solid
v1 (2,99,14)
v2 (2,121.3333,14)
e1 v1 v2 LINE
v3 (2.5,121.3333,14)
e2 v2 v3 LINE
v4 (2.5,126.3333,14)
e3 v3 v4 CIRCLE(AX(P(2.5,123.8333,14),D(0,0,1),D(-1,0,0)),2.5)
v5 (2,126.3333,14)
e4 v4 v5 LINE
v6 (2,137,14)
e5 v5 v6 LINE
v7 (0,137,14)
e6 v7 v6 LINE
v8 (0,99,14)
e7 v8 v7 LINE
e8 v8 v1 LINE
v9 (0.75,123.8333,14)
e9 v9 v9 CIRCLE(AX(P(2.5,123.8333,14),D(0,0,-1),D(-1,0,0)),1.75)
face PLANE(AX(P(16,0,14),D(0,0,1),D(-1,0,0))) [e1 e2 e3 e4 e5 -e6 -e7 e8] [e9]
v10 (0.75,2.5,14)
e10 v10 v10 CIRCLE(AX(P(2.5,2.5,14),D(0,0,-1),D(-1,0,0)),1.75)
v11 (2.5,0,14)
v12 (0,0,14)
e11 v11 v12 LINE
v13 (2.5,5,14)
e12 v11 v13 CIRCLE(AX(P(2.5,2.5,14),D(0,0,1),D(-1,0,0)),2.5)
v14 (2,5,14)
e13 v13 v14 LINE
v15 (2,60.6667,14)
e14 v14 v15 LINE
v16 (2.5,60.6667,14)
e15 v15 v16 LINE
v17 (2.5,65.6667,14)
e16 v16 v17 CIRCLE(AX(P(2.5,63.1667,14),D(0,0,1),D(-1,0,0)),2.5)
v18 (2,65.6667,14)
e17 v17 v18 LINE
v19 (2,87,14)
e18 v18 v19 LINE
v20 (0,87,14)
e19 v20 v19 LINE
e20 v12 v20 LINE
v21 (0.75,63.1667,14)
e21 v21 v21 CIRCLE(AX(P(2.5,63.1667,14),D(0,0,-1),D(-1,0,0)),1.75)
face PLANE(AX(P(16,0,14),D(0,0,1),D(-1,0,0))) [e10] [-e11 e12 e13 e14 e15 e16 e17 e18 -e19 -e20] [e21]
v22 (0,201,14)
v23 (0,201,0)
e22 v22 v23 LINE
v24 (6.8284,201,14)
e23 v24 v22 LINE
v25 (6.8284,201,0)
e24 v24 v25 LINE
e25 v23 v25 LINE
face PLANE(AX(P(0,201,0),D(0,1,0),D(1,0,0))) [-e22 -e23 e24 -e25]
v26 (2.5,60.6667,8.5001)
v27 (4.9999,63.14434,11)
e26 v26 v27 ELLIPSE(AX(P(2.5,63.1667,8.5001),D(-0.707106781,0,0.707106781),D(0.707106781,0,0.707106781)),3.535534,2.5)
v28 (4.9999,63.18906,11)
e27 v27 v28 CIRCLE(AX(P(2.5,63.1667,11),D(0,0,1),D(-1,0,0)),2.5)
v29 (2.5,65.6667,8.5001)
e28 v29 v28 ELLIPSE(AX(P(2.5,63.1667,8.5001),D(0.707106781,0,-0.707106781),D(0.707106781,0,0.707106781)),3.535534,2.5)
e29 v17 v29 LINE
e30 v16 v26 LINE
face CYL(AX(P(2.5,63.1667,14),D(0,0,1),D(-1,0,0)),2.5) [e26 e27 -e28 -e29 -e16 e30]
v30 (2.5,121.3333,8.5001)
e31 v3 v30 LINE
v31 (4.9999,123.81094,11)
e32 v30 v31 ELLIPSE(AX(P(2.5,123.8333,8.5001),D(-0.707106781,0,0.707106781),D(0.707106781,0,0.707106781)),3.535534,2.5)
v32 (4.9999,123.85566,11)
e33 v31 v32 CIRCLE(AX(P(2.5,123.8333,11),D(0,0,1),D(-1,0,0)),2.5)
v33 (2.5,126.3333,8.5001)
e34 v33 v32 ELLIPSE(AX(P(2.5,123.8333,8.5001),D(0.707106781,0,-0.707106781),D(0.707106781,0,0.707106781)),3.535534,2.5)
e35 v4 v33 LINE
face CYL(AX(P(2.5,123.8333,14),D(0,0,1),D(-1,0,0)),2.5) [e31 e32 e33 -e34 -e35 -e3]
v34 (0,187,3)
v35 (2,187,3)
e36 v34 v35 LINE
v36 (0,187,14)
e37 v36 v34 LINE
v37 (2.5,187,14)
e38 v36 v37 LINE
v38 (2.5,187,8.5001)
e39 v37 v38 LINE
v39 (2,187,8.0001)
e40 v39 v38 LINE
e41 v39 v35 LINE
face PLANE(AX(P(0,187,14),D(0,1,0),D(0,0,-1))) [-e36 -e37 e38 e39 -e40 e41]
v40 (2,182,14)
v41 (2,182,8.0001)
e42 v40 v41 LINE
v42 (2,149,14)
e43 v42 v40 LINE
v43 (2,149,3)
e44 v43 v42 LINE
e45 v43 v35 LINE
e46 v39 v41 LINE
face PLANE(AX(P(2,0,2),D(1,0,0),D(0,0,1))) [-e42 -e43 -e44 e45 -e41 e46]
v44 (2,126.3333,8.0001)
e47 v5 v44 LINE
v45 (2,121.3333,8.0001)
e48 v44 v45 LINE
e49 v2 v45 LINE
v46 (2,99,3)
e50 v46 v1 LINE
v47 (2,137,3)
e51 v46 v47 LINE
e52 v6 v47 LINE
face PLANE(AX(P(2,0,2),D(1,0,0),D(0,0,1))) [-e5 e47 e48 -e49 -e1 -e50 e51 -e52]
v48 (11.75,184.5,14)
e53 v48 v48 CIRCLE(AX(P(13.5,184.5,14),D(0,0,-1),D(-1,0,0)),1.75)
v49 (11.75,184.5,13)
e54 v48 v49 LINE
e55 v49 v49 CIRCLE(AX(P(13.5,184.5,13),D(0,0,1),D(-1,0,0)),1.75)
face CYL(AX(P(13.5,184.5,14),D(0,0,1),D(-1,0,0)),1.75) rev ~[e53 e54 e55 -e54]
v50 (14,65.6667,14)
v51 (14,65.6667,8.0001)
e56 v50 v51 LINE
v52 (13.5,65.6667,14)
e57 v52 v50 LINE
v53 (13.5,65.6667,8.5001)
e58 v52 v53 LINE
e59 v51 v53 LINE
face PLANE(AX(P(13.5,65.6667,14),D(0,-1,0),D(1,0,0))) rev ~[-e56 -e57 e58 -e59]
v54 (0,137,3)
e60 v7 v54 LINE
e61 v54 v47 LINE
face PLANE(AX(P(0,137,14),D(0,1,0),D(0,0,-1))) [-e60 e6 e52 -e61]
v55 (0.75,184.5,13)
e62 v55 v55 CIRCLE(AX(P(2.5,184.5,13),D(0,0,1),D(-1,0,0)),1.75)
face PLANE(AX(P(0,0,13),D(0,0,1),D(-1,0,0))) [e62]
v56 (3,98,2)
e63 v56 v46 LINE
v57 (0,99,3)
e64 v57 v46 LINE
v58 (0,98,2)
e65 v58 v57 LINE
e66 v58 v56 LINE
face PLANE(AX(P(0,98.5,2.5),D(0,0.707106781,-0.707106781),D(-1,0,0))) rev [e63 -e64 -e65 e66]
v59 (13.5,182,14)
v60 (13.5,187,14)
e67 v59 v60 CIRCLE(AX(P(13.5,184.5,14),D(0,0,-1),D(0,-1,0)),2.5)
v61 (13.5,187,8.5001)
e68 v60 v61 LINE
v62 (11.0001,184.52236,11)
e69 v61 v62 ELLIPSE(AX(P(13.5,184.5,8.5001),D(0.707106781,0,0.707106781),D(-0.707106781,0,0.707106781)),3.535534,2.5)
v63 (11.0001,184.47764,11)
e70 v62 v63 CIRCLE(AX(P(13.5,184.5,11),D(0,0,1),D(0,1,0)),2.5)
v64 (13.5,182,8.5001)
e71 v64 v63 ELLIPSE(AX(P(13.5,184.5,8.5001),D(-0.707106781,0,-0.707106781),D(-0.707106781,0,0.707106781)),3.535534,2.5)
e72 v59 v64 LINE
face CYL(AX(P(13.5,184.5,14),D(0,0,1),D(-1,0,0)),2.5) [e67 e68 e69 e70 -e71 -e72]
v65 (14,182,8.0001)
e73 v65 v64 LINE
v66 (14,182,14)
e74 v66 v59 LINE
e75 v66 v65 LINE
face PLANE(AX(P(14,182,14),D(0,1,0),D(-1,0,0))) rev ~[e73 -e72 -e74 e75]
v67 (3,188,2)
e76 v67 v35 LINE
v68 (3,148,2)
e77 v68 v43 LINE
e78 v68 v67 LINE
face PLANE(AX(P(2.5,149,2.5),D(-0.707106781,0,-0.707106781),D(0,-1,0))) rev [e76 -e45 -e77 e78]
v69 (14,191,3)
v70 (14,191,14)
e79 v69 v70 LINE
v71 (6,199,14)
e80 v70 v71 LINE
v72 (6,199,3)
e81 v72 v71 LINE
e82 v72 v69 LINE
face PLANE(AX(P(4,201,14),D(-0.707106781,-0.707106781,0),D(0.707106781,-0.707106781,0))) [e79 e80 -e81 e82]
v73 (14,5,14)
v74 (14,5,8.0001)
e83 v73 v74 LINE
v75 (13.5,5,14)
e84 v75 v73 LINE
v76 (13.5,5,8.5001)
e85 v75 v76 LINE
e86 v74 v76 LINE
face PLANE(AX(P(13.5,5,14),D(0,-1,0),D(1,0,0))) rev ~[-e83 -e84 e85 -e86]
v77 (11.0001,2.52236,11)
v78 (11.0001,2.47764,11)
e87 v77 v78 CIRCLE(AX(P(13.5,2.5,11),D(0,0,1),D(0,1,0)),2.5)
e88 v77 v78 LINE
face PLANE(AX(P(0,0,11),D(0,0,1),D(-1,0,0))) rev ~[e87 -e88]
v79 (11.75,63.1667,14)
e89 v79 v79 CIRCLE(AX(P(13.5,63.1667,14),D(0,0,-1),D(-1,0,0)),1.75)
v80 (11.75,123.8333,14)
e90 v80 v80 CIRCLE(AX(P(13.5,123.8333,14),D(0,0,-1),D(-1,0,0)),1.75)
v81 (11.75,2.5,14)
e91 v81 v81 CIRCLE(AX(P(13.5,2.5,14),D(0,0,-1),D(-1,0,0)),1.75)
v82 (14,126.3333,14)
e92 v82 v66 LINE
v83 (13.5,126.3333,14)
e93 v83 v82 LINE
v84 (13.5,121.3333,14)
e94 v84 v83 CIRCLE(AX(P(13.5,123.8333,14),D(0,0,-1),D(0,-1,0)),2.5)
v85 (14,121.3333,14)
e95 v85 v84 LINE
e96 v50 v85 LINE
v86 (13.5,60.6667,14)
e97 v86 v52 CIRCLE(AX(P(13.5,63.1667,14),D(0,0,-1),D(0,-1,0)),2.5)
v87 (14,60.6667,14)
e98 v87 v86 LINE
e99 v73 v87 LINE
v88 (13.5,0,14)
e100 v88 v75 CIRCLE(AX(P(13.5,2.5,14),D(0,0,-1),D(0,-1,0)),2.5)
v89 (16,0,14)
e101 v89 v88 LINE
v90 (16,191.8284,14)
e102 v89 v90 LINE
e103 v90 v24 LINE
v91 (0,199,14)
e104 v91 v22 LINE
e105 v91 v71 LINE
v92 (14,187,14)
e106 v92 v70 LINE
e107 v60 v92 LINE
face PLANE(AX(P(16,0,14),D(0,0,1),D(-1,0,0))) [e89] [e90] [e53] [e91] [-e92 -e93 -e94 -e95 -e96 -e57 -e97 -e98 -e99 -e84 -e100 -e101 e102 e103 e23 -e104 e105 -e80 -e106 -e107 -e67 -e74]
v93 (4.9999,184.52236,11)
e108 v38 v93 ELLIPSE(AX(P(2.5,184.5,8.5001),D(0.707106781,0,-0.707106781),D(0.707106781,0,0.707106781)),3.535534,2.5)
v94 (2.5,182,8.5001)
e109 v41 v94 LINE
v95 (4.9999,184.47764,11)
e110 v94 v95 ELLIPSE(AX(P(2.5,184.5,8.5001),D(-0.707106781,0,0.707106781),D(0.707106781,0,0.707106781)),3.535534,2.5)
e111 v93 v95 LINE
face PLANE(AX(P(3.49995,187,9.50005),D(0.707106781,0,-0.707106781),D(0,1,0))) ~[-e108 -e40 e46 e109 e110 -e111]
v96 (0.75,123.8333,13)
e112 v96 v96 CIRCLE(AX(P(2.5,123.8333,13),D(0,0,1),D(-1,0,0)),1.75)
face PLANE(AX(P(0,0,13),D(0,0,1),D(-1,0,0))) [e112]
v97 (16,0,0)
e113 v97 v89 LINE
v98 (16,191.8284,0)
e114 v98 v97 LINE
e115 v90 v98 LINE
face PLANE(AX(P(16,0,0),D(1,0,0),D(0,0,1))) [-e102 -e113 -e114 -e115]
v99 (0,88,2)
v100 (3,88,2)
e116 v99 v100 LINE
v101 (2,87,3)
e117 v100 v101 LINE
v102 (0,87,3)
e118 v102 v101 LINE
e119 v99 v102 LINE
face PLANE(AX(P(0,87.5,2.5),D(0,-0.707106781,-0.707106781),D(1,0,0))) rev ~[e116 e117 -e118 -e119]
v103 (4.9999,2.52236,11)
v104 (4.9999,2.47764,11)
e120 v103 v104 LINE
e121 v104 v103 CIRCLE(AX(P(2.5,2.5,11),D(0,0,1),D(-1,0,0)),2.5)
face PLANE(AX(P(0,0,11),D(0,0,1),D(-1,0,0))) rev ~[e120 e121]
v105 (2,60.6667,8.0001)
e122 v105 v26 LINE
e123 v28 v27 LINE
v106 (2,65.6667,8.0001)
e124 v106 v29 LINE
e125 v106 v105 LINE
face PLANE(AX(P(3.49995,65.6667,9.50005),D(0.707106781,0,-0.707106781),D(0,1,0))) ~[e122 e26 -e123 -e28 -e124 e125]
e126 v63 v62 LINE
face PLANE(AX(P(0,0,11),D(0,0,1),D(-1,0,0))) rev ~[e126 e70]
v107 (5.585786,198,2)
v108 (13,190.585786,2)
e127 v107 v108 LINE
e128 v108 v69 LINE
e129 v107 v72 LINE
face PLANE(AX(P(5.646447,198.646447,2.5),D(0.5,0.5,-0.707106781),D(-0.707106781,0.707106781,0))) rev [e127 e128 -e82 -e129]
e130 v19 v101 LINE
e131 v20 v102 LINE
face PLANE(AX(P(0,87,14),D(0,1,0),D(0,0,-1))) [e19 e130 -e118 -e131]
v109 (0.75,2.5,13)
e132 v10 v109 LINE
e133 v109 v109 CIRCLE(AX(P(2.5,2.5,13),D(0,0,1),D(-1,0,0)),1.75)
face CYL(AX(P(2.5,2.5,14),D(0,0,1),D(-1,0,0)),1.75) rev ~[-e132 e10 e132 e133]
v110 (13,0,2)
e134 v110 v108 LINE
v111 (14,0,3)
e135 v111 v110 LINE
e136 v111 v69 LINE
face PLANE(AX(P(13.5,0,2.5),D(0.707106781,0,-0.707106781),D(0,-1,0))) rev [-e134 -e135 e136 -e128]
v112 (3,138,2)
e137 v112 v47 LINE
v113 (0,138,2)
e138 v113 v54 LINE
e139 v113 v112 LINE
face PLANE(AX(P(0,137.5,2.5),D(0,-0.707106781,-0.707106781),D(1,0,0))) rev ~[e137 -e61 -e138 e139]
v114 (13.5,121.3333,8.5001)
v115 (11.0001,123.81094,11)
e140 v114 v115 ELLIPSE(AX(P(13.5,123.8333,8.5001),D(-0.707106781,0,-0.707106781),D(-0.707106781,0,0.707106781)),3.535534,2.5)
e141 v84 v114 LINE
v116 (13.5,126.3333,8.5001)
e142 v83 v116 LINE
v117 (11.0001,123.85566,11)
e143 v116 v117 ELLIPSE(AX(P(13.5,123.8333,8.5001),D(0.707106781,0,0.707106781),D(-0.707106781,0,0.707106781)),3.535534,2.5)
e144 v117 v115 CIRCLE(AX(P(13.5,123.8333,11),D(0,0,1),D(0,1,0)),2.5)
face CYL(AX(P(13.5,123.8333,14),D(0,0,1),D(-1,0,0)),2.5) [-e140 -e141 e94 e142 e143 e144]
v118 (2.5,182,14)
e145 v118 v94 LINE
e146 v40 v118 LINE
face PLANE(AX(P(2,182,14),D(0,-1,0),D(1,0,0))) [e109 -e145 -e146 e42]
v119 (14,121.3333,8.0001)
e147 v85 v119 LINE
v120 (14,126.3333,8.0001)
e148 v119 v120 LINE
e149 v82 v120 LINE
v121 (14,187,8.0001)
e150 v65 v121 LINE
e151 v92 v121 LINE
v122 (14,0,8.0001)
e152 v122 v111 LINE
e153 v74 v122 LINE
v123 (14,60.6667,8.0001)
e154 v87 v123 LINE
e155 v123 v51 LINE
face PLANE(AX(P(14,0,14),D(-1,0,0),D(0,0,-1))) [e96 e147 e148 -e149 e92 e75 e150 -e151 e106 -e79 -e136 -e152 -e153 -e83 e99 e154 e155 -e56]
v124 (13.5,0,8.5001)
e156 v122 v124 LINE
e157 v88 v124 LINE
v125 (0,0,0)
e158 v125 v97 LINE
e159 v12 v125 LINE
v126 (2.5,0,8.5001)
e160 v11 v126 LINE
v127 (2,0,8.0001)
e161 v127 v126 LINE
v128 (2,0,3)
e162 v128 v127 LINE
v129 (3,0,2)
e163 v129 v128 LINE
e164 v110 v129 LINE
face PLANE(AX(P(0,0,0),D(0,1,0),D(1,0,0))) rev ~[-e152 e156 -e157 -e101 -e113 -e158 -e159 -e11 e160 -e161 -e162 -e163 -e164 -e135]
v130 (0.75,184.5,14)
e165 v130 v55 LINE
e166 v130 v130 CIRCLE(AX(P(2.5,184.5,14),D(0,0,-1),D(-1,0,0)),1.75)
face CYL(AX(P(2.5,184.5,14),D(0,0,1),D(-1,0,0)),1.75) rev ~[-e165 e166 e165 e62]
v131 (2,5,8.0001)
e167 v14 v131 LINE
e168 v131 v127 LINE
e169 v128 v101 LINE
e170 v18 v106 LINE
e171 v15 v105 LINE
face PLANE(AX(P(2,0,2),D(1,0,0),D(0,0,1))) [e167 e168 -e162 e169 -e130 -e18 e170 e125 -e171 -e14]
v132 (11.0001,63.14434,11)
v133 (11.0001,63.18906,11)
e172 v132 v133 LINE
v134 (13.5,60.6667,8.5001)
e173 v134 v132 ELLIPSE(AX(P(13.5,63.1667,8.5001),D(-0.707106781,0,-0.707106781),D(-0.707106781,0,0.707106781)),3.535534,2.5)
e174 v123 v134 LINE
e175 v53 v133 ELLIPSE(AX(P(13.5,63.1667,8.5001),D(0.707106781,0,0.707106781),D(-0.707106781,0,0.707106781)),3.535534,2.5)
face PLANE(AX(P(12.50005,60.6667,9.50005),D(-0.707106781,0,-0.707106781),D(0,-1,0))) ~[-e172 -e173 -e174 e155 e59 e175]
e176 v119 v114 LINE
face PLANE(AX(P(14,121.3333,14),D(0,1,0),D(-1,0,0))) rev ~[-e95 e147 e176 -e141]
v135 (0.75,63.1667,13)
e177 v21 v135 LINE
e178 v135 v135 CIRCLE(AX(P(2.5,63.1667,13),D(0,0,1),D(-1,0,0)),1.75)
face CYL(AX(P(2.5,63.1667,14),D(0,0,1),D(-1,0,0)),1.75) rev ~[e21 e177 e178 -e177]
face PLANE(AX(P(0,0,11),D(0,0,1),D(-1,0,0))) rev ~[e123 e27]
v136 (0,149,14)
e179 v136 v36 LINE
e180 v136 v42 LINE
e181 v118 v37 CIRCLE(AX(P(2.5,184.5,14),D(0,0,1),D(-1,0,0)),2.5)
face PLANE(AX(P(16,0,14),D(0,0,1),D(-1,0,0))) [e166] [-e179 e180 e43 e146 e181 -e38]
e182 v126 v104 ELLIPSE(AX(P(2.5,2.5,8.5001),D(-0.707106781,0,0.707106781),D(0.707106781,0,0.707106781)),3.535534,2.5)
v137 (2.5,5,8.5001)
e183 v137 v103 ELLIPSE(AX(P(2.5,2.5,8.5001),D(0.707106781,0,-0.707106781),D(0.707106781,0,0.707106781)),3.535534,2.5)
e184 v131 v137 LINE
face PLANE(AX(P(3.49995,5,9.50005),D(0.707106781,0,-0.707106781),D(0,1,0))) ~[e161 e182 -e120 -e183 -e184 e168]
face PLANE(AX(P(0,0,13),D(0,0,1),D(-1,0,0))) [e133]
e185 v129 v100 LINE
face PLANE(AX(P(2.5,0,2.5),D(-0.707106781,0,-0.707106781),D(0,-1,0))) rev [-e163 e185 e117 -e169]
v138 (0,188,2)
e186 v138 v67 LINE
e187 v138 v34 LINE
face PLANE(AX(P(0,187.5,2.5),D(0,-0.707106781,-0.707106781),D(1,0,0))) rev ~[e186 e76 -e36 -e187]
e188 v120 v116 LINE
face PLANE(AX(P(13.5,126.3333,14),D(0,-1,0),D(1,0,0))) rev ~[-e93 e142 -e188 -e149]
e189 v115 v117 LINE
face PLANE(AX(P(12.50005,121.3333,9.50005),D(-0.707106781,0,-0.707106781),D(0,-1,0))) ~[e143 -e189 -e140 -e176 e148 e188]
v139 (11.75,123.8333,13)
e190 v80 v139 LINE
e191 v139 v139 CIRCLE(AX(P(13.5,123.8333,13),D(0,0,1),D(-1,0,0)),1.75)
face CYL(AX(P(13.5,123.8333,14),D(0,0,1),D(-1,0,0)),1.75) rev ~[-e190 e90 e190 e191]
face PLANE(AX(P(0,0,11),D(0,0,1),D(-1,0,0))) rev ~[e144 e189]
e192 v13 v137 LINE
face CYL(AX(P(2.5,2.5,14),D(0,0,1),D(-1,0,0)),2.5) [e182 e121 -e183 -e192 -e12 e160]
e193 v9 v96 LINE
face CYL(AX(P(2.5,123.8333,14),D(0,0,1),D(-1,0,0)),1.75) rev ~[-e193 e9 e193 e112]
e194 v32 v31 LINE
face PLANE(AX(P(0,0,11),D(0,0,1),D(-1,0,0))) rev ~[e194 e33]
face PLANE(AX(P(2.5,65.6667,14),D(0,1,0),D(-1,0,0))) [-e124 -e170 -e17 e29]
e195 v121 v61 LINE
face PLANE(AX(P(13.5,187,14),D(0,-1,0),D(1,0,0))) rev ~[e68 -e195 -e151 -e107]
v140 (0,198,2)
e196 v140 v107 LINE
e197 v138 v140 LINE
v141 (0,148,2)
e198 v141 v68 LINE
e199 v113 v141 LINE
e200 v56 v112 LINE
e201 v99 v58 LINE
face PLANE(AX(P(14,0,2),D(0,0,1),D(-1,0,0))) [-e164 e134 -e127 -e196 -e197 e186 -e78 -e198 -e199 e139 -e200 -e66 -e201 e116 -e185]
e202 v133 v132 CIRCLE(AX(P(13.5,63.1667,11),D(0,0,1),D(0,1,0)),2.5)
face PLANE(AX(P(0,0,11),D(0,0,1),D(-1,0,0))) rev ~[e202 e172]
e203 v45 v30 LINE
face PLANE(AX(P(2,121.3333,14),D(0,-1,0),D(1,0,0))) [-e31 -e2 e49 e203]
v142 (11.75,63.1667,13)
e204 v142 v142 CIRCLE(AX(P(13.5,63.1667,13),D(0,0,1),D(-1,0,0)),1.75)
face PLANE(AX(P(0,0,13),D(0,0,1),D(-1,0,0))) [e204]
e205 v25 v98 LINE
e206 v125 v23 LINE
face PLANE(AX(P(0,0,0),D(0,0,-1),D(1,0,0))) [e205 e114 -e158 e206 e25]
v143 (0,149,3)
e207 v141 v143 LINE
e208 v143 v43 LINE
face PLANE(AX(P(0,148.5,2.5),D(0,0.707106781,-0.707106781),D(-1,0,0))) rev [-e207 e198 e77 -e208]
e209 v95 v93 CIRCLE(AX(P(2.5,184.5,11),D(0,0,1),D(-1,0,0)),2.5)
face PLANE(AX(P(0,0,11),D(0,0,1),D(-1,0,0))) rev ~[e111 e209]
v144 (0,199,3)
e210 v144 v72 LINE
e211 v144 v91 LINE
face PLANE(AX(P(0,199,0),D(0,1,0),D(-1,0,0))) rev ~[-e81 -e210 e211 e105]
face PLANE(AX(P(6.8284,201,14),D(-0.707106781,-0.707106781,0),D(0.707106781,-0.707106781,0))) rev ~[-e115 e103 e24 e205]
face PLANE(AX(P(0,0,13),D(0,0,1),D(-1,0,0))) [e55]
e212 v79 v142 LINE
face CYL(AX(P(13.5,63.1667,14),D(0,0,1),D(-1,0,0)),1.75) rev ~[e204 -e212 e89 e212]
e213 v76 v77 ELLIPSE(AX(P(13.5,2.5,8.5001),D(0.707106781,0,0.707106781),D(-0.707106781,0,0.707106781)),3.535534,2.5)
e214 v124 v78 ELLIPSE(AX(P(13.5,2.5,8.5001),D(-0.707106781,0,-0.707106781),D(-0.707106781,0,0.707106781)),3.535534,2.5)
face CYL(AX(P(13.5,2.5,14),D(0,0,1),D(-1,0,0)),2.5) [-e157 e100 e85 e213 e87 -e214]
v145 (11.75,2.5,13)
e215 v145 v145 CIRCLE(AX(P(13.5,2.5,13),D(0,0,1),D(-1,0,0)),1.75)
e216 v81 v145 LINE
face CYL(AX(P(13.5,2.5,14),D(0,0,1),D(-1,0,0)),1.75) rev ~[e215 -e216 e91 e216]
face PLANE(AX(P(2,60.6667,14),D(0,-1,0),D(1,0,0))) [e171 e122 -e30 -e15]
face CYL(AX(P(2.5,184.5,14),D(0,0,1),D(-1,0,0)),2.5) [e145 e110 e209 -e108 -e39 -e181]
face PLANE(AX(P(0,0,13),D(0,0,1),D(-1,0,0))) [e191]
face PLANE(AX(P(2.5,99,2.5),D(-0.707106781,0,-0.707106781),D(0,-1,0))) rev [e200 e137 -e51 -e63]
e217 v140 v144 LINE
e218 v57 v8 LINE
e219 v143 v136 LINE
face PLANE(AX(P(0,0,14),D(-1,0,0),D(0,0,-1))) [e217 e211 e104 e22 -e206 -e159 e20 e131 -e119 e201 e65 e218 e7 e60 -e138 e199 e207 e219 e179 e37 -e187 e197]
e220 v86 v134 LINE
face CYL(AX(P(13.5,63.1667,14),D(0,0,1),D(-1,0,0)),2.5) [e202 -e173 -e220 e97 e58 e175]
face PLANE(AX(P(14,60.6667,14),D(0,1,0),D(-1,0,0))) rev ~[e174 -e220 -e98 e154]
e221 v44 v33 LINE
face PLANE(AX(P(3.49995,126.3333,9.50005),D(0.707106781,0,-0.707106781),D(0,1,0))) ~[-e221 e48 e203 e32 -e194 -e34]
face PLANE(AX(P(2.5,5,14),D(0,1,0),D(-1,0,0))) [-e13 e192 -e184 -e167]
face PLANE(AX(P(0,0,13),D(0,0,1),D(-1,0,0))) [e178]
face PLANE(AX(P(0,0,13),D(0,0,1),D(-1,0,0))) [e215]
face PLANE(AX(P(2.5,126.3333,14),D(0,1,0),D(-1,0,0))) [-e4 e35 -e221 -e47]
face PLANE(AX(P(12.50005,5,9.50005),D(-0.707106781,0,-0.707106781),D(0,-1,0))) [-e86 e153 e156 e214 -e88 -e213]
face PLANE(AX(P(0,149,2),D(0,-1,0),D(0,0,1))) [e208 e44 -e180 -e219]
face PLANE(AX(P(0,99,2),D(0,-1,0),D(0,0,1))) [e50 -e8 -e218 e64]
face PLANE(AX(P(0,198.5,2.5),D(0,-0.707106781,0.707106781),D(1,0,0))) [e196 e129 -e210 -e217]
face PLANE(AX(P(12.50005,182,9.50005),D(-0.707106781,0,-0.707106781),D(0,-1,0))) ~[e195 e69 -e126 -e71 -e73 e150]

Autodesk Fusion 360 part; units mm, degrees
sketch "3D-printed conduit outline" plane through (0, 0, 0) normal (0, 1, 0) x (1, 0, 0)
  line L0 (0, 0) -> (16, 0)
  line L1 (16, 0) -> (16, -14)
  line L2 (16, -14) -> (0, -14)
  line L3 (0, -14) -> (0, 0)
  line L4 (2, -14) -> (14, -14)
  line L5 (14, -14) -> (14, -2)
  line L6 (14, -2) -> (2, -2)
  line L7 (2, -2) -> (2, -14)
  dimension "d8" = 14
  dimension "d9" = 16
  dimension "d10" = 2
  dimension "d11" = 2
  dimension "d12" = 2
extrude "Extrude1" add sketch "3D-printed conduit outline" along normal blind 201 contours L0 L1 L2 L3 L5 L6 L7
sketch "Magnet holders" plane through (0, 0, 14) normal (0, 0, 1) x (-1, 0, 0)
  line L0 (0, 0) -> (-2, 0)
  line L1 (-2, 0) -> (-2, -201)
  line L2 (-2, -201) -> (0, -201)
  line L3 (0, -201) -> (0, 0)
  line L4 (-14, 0) -> (-16, 0)
  line L5 (-16, 0) -> (-16, -201)
  line L6 (-16, -201) -> (-14, -201)
  line L7 (-14, -201) -> (-14, 0)
  circle A0 centre (-2.5, -2.5) radius 2.5
  circle A1 centre (-2.5, -2.5) radius 1.75
  line L8 (-14, 0) -> (-2, 0)
  line L9 (0, 0) -> (-2.5, 0)
  line L10 (-2.5, 0) -> (-2.5, -5)
  line L11 (-2.5, -5) -> (0, -5)
  line L12 (0, -5) -> (0, 0)
  circle A2 centre (-13.5, -2.5) radius 2.5
  circle A3 centre (-13.5, -2.5) radius 1.75
  line L13 (-16, 0) -> (-13.5, 0)
  line L14 (-13.5, 0) -> (-13.5, -5)
  line L15 (-13.5, -5) -> (-16, -5)
  line L16 (-16, -5) -> (-16, 0)
  circle A4 centre (-2.5, -63.1667) radius 1.75
  circle A5 centre (-2.5, -63.1667) radius 2.5
  line L17 (-2.5, -60.6667) -> (-2.5, -65.6667)
  line L18 (-2.5, -65.6667) -> (0, -65.6667)
  line L19 (0, -65.6667) -> (0, -60.6667)
  line L20 (0, -60.6667) -> (-2.5, -60.6667)
  circle A6 centre (-13.5, -63.1667) radius 1.75
  circle A7 centre (-13.5, -63.1667) radius 2.5
  line L21 (-13.5, -60.6667) -> (-13.5, -65.6667)
  line L22 (-13.5, -65.6667) -> (-16, -65.6667)
  line L23 (-16, -65.6667) -> (-16, -60.6667)
  line L24 (-16, -60.6667) -> (-13.5, -60.6667)
  circle A8 centre (-2.5, -123.8333) radius 1.75
  circle A9 centre (-2.5, -123.8333) radius 2.5
  line L25 (-2.5, -121.3333) -> (-2.5, -126.3333)
  line L26 (-2.5, -126.3333) -> (0, -126.3333)
  line L27 (0, -126.3333) -> (0, -121.3333)
  line L28 (0, -121.3333) -> (-2.5, -121.3333)
  circle A10 centre (-13.5, -123.8333) radius 1.75
  circle A11 centre (-13.5, -123.8333) radius 2.5
  line L29 (-13.5, -121.3333) -> (-13.5, -126.3333)
  line L30 (-13.5, -126.3333) -> (-16, -126.3333)
  line L31 (-16, -126.3333) -> (-16, -121.3333)
  line L32 (-16, -121.3333) -> (-13.5, -121.3333)
  circle A12 centre (-2.5, -184.5) radius 1.75
  circle A13 centre (-2.5, -184.5) radius 2.5
  line L33 (-2.5, -182) -> (-2.5, -187)
  line L34 (-2.5, -187) -> (0, -187)
  line L35 (0, -187) -> (0, -182)
  line L36 (0, -182) -> (-2.5, -182)
  circle A14 centre (-13.5, -184.5) radius 1.75
  circle A15 centre (-13.5, -184.5) radius 2.5
  line L37 (-13.5, -182) -> (-13.5, -187)
  line L38 (-13.5, -187) -> (-16, -187)
  line L39 (-16, -187) -> (-16, -182)
  line L40 (-16, -182) -> (-13.5, -182)
  dimension "d15" = 5
  dimension "d16" = 3.5
  dimension "d17" = 5
  dimension "d18" = 3.5
  dimension "d21" = 0
  dimension "d22" = -182
sketch "End wall" plane through (0, 201, 0) normal (0, 1, 0) x (-1, 0, 0)
  line L0 (-2, 2) -> (-14, 2)
  line L1 (-14, 2) -> (-14, 14)
  line L2 (-14, 14) -> (-16, 14)
  line L3 (-16, 14) -> (-16, 0)
  line L4 (-16, 0) -> (0, 0)
  line L5 (0, 0) -> (0, 14)
  line L6 (0, 14) -> (-2, 14)
  line L7 (-2, 14) -> (-2, 2)
  line L8 (-16, 0) -> (0, 0)
  line L9 (0, 0) -> (0, 14)
  line L10 (0, 14) -> (-16, 14)
  line L11 (-16, 14) -> (-16, 0)
extrude "Extrude5" add sketch "End wall" against normal blind 2
extrude "Extrude2" add sketch "Magnet holders" against normal blind 3 contours A2 A3 L14 | L7 A2 A3 L14 | L7 L8 A2 L13 | L1 A0 L8 L9 | L1 A0 A1 L10 | A0 A1 L10 | L1 A0 A1 L10 | L1 A0 L11 | L1 A1 L10 | A1 L10 | L7 A3 L14 | A3 L14 | L1 A5 L20 | L7 A2 L15 | L7 A2 A3 L14 | L1 A4 A5 L17 | L1 A4 A5 L17 | L1 A5 L18 | A4 A5 L17 | L1 A4 L17 | A4 L17 | L7 A7 L24 | L1 A9 L28 | L7 A6 A7 L21 | A6 A7 L21 | L1 A8 A9 L25 | L1 A8 A9 L25 | L1 A9 L26 | A8 A9 L25 | L7 A6 L21 | A6 L21 | L7 A7 L22 | L7 A6 A7 L21 | L1 A8 L25 | A8 L25 | L1 A13 L36 | L7 A11 L32 | L1 A12 A13 L33 | L1 A12 A13 L33 | L1 A13 L34 | A12 A13 L33 | L7 A10 A11 L29 | L7 A11 L30 | L7 A10 A11 L29 | A10 A11 L29 | L1 A12 L33 | A12 L33 | L7 A10 L29 | A10 L29 | L7 A15 L40 | L7 A14 A15 L37 | L7 A15 L38 | L7 A14 A15 L37 | A14 A15 L37 | L7 A14 L37 | A14 L37
extrude "Extrude6" cut sketch "Magnet holders" against normal blind 1 contours L1 A1 | L1 A1 L10 | A1 L10 | L7 A3 L14 | A3 L14 | L7 A3 | L1 A4 | L1 A4 L17 | A4 L17 | L7 A6 L21 | L7 A6 | A6 L21 | L1 A8 | L1 A8 L25 | A8 L25 | L1 A12 | L1 A12 L33 | A12 L33 | L7 A10 L29 | L7 A10 | A10 L29 | L7 A14 L37 | L7 A14 | A14 L37
chamfer "Chamfer2" distance 2.9999 angle 45 11 edges at (2, 2.5, 11) (2, 63.1667, 11) (2, 123.8333, 11) (2, 2.5, 11) (2, 123.8333, 11) (2, 63.1667, 11) (2, 184.5, 11) (14, 2.5, 11) (14, 63.1667, 11) (14, 123.8333, 11) (14, 184.5, 11)
sketch "Arcade button outlets" plane through (0, 0, 0) normal (-1, 0, 0) x (0, -1, 0)
  line L0 (0, 0) -> (0, 14)
  line L1 (0, 14) -> (-201, 14)
  line L2 (-201, 14) -> (-201, 0)
  line L3 (-201, 0) -> (0, 0)
  line L4 (-199, 14) -> (-187, 14)
  line L5 (-187, 14) -> (-187, 2)
  line L6 (-187, 2) -> (-199, 2)
  line L7 (-199, 2) -> (-199, 14)
  line L8 (-149, 14) -> (-137, 14)
  line L9 (-137, 14) -> (-137, 2)
  line L10 (-137, 2) -> (-149, 2)
  line L11 (-149, 2) -> (-149, 14)
  line L12 (-99, 14) -> (-87, 14)
  line L13 (-87, 14) -> (-87, 2)
  line L14 (-87, 2) -> (-99, 2)
  line L15 (-99, 2) -> (-99, 14)
  dimension "d29" = 2
  dimension "d30" = 12
  dimension "d31" = 12
  dimension "d32" = 12
  dimension "d33" = 2
  dimension "d34" = 38
  dimension "d35" = 38
extrude "Extrude4" cut sketch "Arcade button outlets" against normal blind 2 contours L1 L12 L13 L14 L15 | L1 L4 L5 L6 L7 | L1 L8 L9 L10 L11
sketch "End chamfer" plane through (0, 0, 14) normal (0, 0, 1) x (-1, 0, 0)
  line L0 (0, -199) -> (-14, -199)
  line L1 (-14, -199) -> (-14, -187)
  line L2 (-14, -187) -> (-13.5, -187)
  arc A0 (-13.5, -187) -> (-13.5, -182) centre (-13.5, -184.5) ccw
  line L3 (-13.5, -182) -> (-14, -182)
  line L4 (-14, -182) -> (-14, -126.3333)
  line L5 (-14, -126.3333) -> (-13.5, -126.3333)
  arc A1 (-13.5, -126.3333) -> (-13.5, -121.3333) centre (-13.5, -123.8333) ccw
  line L6 (-13.5, -121.3333) -> (-14, -121.3333)
  line L7 (-14, -121.3333) -> (-14, -65.6667)
  line L8 (-14, -65.6667) -> (-13.5, -65.6667)
  arc A2 (-13.5, -65.6667) -> (-13.5, -60.6667) centre (-13.5, -63.1667) ccw
  line L9 (-13.5, -60.6667) -> (-14, -60.6667)
  line L10 (-14, -60.6667) -> (-14, -5)
  line L11 (-14, -5) -> (-13.5, -5)
  arc A3 (-13.5, -5) -> (-13.5, 0) centre (-13.5, -2.5) ccw
  line L12 (-13.5, 0) -> (-16, 0)
  line L13 (-16, 0) -> (-16, -201)
  line L14 (-16, -201) -> (0, -201)
  line L15 (0, -201) -> (0, -199)
  circle A4 centre (-13.5, -2.5) radius 1.75
  circle A5 centre (-13.5, -63.1667) radius 1.75
  circle A6 centre (-13.5, -184.5) radius 1.75
  circle A7 centre (-13.5, -123.8333) radius 1.75
  line L16 (-6.8284, -201) -> (-16, -191.8284)
  line L17 (-4, -201) -> (-16, -189)
  line L18 (-2, -149) -> (-2, -182)
  line L19 (0, -193) -> (-8, -193)
  line L20 (0, -187) -> (0, -199)
  line L21 (-4, -193) -> (-8, -189)
  line L22 (-4, -193) -> (-0.3616, -193) construction
  line L23 (-8, -189) -> (-8, -193)
  line L24 (-10, -195) -> (-2, -187)
  line L25 (-2.5, -187) -> (0, -187)
  line L26 (-4, -201) -> (-6.8284, -201)
  line L27 (-16, -191.8284) -> (-16, -189)
  point P0 (-6, -191)
  dimension "d46" = 6
  dimension "d47" = 8
  dimension "d49" = 135
  dimension "d50" = 4
  dimension "d51" = 2
  dimension "d52" = 2
extrude "Extrude8" add sketch "End chamfer" against normal blind 12 contours L0 L14 L16 L17 L26 | L0 L1 L16 L17 | L1 L13 L16 L17 L27
extrude "Extrude7" cut sketch "End chamfer" against normal blind 14 contours L0 L1 L13 L14 L16 | L0 L1 L16
chamfer "Chamfer4" distance 1 angle 45 11 edges at (2, 43.5, 2) (1, 87, 2) (1, 99, 2) (2, 118, 2) (1, 137, 2) (1, 149, 2) (2, 168, 2) (1, 187, 2) (3, 199, 2) (10, 195, 2) (14, 95.5, 2)
equation "conduit_length = 201 mm"
equation "conduit_width = 16 mm"
equation "conduit_height = 16 mm"
equation "conduit_wall_thickness = 2 mm"
equation "magnet_diameter = 3 mm"
equation "magnet_height = 1 mm"
equation "d8 = conduit_height - conduit_wall_thickness"
equation "d9 = conduit_width"
equation "d10 = conduit_wall_thickness"
equation "d11 = conduit_wall_thickness"
equation "d12 = conduit_wall_thickness"
equation "d13 = conduit_length"
equation "d15 = magnet_diameter + 2 mm"
equation "d16 = magnet_diameter + 0.5 mm"
equation "d17 = magnet_diameter + 2 mm"
equation "d18 = magnet_diameter + 0.5 mm"
equation "d22 = -conduit_length + ( magnet_diameter + 2 mm ) + 14 mm"
equation "d23 = -( magnet_height + 2 mm )"
equation "d29 = conduit_wall_thickness"
equation "d33 = conduit_wall_thickness"
equation "d47 = conduit_wall_thickness + ( conduit_width - 2 * conduit_wall_thickness ) / 2"
equation "d50 = Linear Dimension-4"
equation "d51 = conduit_wall_thickness"
equation "d52 = conduit_wall_thickness"
equation "d55 = -( conduit_height - 2 * conduit_wall_thickness )"
